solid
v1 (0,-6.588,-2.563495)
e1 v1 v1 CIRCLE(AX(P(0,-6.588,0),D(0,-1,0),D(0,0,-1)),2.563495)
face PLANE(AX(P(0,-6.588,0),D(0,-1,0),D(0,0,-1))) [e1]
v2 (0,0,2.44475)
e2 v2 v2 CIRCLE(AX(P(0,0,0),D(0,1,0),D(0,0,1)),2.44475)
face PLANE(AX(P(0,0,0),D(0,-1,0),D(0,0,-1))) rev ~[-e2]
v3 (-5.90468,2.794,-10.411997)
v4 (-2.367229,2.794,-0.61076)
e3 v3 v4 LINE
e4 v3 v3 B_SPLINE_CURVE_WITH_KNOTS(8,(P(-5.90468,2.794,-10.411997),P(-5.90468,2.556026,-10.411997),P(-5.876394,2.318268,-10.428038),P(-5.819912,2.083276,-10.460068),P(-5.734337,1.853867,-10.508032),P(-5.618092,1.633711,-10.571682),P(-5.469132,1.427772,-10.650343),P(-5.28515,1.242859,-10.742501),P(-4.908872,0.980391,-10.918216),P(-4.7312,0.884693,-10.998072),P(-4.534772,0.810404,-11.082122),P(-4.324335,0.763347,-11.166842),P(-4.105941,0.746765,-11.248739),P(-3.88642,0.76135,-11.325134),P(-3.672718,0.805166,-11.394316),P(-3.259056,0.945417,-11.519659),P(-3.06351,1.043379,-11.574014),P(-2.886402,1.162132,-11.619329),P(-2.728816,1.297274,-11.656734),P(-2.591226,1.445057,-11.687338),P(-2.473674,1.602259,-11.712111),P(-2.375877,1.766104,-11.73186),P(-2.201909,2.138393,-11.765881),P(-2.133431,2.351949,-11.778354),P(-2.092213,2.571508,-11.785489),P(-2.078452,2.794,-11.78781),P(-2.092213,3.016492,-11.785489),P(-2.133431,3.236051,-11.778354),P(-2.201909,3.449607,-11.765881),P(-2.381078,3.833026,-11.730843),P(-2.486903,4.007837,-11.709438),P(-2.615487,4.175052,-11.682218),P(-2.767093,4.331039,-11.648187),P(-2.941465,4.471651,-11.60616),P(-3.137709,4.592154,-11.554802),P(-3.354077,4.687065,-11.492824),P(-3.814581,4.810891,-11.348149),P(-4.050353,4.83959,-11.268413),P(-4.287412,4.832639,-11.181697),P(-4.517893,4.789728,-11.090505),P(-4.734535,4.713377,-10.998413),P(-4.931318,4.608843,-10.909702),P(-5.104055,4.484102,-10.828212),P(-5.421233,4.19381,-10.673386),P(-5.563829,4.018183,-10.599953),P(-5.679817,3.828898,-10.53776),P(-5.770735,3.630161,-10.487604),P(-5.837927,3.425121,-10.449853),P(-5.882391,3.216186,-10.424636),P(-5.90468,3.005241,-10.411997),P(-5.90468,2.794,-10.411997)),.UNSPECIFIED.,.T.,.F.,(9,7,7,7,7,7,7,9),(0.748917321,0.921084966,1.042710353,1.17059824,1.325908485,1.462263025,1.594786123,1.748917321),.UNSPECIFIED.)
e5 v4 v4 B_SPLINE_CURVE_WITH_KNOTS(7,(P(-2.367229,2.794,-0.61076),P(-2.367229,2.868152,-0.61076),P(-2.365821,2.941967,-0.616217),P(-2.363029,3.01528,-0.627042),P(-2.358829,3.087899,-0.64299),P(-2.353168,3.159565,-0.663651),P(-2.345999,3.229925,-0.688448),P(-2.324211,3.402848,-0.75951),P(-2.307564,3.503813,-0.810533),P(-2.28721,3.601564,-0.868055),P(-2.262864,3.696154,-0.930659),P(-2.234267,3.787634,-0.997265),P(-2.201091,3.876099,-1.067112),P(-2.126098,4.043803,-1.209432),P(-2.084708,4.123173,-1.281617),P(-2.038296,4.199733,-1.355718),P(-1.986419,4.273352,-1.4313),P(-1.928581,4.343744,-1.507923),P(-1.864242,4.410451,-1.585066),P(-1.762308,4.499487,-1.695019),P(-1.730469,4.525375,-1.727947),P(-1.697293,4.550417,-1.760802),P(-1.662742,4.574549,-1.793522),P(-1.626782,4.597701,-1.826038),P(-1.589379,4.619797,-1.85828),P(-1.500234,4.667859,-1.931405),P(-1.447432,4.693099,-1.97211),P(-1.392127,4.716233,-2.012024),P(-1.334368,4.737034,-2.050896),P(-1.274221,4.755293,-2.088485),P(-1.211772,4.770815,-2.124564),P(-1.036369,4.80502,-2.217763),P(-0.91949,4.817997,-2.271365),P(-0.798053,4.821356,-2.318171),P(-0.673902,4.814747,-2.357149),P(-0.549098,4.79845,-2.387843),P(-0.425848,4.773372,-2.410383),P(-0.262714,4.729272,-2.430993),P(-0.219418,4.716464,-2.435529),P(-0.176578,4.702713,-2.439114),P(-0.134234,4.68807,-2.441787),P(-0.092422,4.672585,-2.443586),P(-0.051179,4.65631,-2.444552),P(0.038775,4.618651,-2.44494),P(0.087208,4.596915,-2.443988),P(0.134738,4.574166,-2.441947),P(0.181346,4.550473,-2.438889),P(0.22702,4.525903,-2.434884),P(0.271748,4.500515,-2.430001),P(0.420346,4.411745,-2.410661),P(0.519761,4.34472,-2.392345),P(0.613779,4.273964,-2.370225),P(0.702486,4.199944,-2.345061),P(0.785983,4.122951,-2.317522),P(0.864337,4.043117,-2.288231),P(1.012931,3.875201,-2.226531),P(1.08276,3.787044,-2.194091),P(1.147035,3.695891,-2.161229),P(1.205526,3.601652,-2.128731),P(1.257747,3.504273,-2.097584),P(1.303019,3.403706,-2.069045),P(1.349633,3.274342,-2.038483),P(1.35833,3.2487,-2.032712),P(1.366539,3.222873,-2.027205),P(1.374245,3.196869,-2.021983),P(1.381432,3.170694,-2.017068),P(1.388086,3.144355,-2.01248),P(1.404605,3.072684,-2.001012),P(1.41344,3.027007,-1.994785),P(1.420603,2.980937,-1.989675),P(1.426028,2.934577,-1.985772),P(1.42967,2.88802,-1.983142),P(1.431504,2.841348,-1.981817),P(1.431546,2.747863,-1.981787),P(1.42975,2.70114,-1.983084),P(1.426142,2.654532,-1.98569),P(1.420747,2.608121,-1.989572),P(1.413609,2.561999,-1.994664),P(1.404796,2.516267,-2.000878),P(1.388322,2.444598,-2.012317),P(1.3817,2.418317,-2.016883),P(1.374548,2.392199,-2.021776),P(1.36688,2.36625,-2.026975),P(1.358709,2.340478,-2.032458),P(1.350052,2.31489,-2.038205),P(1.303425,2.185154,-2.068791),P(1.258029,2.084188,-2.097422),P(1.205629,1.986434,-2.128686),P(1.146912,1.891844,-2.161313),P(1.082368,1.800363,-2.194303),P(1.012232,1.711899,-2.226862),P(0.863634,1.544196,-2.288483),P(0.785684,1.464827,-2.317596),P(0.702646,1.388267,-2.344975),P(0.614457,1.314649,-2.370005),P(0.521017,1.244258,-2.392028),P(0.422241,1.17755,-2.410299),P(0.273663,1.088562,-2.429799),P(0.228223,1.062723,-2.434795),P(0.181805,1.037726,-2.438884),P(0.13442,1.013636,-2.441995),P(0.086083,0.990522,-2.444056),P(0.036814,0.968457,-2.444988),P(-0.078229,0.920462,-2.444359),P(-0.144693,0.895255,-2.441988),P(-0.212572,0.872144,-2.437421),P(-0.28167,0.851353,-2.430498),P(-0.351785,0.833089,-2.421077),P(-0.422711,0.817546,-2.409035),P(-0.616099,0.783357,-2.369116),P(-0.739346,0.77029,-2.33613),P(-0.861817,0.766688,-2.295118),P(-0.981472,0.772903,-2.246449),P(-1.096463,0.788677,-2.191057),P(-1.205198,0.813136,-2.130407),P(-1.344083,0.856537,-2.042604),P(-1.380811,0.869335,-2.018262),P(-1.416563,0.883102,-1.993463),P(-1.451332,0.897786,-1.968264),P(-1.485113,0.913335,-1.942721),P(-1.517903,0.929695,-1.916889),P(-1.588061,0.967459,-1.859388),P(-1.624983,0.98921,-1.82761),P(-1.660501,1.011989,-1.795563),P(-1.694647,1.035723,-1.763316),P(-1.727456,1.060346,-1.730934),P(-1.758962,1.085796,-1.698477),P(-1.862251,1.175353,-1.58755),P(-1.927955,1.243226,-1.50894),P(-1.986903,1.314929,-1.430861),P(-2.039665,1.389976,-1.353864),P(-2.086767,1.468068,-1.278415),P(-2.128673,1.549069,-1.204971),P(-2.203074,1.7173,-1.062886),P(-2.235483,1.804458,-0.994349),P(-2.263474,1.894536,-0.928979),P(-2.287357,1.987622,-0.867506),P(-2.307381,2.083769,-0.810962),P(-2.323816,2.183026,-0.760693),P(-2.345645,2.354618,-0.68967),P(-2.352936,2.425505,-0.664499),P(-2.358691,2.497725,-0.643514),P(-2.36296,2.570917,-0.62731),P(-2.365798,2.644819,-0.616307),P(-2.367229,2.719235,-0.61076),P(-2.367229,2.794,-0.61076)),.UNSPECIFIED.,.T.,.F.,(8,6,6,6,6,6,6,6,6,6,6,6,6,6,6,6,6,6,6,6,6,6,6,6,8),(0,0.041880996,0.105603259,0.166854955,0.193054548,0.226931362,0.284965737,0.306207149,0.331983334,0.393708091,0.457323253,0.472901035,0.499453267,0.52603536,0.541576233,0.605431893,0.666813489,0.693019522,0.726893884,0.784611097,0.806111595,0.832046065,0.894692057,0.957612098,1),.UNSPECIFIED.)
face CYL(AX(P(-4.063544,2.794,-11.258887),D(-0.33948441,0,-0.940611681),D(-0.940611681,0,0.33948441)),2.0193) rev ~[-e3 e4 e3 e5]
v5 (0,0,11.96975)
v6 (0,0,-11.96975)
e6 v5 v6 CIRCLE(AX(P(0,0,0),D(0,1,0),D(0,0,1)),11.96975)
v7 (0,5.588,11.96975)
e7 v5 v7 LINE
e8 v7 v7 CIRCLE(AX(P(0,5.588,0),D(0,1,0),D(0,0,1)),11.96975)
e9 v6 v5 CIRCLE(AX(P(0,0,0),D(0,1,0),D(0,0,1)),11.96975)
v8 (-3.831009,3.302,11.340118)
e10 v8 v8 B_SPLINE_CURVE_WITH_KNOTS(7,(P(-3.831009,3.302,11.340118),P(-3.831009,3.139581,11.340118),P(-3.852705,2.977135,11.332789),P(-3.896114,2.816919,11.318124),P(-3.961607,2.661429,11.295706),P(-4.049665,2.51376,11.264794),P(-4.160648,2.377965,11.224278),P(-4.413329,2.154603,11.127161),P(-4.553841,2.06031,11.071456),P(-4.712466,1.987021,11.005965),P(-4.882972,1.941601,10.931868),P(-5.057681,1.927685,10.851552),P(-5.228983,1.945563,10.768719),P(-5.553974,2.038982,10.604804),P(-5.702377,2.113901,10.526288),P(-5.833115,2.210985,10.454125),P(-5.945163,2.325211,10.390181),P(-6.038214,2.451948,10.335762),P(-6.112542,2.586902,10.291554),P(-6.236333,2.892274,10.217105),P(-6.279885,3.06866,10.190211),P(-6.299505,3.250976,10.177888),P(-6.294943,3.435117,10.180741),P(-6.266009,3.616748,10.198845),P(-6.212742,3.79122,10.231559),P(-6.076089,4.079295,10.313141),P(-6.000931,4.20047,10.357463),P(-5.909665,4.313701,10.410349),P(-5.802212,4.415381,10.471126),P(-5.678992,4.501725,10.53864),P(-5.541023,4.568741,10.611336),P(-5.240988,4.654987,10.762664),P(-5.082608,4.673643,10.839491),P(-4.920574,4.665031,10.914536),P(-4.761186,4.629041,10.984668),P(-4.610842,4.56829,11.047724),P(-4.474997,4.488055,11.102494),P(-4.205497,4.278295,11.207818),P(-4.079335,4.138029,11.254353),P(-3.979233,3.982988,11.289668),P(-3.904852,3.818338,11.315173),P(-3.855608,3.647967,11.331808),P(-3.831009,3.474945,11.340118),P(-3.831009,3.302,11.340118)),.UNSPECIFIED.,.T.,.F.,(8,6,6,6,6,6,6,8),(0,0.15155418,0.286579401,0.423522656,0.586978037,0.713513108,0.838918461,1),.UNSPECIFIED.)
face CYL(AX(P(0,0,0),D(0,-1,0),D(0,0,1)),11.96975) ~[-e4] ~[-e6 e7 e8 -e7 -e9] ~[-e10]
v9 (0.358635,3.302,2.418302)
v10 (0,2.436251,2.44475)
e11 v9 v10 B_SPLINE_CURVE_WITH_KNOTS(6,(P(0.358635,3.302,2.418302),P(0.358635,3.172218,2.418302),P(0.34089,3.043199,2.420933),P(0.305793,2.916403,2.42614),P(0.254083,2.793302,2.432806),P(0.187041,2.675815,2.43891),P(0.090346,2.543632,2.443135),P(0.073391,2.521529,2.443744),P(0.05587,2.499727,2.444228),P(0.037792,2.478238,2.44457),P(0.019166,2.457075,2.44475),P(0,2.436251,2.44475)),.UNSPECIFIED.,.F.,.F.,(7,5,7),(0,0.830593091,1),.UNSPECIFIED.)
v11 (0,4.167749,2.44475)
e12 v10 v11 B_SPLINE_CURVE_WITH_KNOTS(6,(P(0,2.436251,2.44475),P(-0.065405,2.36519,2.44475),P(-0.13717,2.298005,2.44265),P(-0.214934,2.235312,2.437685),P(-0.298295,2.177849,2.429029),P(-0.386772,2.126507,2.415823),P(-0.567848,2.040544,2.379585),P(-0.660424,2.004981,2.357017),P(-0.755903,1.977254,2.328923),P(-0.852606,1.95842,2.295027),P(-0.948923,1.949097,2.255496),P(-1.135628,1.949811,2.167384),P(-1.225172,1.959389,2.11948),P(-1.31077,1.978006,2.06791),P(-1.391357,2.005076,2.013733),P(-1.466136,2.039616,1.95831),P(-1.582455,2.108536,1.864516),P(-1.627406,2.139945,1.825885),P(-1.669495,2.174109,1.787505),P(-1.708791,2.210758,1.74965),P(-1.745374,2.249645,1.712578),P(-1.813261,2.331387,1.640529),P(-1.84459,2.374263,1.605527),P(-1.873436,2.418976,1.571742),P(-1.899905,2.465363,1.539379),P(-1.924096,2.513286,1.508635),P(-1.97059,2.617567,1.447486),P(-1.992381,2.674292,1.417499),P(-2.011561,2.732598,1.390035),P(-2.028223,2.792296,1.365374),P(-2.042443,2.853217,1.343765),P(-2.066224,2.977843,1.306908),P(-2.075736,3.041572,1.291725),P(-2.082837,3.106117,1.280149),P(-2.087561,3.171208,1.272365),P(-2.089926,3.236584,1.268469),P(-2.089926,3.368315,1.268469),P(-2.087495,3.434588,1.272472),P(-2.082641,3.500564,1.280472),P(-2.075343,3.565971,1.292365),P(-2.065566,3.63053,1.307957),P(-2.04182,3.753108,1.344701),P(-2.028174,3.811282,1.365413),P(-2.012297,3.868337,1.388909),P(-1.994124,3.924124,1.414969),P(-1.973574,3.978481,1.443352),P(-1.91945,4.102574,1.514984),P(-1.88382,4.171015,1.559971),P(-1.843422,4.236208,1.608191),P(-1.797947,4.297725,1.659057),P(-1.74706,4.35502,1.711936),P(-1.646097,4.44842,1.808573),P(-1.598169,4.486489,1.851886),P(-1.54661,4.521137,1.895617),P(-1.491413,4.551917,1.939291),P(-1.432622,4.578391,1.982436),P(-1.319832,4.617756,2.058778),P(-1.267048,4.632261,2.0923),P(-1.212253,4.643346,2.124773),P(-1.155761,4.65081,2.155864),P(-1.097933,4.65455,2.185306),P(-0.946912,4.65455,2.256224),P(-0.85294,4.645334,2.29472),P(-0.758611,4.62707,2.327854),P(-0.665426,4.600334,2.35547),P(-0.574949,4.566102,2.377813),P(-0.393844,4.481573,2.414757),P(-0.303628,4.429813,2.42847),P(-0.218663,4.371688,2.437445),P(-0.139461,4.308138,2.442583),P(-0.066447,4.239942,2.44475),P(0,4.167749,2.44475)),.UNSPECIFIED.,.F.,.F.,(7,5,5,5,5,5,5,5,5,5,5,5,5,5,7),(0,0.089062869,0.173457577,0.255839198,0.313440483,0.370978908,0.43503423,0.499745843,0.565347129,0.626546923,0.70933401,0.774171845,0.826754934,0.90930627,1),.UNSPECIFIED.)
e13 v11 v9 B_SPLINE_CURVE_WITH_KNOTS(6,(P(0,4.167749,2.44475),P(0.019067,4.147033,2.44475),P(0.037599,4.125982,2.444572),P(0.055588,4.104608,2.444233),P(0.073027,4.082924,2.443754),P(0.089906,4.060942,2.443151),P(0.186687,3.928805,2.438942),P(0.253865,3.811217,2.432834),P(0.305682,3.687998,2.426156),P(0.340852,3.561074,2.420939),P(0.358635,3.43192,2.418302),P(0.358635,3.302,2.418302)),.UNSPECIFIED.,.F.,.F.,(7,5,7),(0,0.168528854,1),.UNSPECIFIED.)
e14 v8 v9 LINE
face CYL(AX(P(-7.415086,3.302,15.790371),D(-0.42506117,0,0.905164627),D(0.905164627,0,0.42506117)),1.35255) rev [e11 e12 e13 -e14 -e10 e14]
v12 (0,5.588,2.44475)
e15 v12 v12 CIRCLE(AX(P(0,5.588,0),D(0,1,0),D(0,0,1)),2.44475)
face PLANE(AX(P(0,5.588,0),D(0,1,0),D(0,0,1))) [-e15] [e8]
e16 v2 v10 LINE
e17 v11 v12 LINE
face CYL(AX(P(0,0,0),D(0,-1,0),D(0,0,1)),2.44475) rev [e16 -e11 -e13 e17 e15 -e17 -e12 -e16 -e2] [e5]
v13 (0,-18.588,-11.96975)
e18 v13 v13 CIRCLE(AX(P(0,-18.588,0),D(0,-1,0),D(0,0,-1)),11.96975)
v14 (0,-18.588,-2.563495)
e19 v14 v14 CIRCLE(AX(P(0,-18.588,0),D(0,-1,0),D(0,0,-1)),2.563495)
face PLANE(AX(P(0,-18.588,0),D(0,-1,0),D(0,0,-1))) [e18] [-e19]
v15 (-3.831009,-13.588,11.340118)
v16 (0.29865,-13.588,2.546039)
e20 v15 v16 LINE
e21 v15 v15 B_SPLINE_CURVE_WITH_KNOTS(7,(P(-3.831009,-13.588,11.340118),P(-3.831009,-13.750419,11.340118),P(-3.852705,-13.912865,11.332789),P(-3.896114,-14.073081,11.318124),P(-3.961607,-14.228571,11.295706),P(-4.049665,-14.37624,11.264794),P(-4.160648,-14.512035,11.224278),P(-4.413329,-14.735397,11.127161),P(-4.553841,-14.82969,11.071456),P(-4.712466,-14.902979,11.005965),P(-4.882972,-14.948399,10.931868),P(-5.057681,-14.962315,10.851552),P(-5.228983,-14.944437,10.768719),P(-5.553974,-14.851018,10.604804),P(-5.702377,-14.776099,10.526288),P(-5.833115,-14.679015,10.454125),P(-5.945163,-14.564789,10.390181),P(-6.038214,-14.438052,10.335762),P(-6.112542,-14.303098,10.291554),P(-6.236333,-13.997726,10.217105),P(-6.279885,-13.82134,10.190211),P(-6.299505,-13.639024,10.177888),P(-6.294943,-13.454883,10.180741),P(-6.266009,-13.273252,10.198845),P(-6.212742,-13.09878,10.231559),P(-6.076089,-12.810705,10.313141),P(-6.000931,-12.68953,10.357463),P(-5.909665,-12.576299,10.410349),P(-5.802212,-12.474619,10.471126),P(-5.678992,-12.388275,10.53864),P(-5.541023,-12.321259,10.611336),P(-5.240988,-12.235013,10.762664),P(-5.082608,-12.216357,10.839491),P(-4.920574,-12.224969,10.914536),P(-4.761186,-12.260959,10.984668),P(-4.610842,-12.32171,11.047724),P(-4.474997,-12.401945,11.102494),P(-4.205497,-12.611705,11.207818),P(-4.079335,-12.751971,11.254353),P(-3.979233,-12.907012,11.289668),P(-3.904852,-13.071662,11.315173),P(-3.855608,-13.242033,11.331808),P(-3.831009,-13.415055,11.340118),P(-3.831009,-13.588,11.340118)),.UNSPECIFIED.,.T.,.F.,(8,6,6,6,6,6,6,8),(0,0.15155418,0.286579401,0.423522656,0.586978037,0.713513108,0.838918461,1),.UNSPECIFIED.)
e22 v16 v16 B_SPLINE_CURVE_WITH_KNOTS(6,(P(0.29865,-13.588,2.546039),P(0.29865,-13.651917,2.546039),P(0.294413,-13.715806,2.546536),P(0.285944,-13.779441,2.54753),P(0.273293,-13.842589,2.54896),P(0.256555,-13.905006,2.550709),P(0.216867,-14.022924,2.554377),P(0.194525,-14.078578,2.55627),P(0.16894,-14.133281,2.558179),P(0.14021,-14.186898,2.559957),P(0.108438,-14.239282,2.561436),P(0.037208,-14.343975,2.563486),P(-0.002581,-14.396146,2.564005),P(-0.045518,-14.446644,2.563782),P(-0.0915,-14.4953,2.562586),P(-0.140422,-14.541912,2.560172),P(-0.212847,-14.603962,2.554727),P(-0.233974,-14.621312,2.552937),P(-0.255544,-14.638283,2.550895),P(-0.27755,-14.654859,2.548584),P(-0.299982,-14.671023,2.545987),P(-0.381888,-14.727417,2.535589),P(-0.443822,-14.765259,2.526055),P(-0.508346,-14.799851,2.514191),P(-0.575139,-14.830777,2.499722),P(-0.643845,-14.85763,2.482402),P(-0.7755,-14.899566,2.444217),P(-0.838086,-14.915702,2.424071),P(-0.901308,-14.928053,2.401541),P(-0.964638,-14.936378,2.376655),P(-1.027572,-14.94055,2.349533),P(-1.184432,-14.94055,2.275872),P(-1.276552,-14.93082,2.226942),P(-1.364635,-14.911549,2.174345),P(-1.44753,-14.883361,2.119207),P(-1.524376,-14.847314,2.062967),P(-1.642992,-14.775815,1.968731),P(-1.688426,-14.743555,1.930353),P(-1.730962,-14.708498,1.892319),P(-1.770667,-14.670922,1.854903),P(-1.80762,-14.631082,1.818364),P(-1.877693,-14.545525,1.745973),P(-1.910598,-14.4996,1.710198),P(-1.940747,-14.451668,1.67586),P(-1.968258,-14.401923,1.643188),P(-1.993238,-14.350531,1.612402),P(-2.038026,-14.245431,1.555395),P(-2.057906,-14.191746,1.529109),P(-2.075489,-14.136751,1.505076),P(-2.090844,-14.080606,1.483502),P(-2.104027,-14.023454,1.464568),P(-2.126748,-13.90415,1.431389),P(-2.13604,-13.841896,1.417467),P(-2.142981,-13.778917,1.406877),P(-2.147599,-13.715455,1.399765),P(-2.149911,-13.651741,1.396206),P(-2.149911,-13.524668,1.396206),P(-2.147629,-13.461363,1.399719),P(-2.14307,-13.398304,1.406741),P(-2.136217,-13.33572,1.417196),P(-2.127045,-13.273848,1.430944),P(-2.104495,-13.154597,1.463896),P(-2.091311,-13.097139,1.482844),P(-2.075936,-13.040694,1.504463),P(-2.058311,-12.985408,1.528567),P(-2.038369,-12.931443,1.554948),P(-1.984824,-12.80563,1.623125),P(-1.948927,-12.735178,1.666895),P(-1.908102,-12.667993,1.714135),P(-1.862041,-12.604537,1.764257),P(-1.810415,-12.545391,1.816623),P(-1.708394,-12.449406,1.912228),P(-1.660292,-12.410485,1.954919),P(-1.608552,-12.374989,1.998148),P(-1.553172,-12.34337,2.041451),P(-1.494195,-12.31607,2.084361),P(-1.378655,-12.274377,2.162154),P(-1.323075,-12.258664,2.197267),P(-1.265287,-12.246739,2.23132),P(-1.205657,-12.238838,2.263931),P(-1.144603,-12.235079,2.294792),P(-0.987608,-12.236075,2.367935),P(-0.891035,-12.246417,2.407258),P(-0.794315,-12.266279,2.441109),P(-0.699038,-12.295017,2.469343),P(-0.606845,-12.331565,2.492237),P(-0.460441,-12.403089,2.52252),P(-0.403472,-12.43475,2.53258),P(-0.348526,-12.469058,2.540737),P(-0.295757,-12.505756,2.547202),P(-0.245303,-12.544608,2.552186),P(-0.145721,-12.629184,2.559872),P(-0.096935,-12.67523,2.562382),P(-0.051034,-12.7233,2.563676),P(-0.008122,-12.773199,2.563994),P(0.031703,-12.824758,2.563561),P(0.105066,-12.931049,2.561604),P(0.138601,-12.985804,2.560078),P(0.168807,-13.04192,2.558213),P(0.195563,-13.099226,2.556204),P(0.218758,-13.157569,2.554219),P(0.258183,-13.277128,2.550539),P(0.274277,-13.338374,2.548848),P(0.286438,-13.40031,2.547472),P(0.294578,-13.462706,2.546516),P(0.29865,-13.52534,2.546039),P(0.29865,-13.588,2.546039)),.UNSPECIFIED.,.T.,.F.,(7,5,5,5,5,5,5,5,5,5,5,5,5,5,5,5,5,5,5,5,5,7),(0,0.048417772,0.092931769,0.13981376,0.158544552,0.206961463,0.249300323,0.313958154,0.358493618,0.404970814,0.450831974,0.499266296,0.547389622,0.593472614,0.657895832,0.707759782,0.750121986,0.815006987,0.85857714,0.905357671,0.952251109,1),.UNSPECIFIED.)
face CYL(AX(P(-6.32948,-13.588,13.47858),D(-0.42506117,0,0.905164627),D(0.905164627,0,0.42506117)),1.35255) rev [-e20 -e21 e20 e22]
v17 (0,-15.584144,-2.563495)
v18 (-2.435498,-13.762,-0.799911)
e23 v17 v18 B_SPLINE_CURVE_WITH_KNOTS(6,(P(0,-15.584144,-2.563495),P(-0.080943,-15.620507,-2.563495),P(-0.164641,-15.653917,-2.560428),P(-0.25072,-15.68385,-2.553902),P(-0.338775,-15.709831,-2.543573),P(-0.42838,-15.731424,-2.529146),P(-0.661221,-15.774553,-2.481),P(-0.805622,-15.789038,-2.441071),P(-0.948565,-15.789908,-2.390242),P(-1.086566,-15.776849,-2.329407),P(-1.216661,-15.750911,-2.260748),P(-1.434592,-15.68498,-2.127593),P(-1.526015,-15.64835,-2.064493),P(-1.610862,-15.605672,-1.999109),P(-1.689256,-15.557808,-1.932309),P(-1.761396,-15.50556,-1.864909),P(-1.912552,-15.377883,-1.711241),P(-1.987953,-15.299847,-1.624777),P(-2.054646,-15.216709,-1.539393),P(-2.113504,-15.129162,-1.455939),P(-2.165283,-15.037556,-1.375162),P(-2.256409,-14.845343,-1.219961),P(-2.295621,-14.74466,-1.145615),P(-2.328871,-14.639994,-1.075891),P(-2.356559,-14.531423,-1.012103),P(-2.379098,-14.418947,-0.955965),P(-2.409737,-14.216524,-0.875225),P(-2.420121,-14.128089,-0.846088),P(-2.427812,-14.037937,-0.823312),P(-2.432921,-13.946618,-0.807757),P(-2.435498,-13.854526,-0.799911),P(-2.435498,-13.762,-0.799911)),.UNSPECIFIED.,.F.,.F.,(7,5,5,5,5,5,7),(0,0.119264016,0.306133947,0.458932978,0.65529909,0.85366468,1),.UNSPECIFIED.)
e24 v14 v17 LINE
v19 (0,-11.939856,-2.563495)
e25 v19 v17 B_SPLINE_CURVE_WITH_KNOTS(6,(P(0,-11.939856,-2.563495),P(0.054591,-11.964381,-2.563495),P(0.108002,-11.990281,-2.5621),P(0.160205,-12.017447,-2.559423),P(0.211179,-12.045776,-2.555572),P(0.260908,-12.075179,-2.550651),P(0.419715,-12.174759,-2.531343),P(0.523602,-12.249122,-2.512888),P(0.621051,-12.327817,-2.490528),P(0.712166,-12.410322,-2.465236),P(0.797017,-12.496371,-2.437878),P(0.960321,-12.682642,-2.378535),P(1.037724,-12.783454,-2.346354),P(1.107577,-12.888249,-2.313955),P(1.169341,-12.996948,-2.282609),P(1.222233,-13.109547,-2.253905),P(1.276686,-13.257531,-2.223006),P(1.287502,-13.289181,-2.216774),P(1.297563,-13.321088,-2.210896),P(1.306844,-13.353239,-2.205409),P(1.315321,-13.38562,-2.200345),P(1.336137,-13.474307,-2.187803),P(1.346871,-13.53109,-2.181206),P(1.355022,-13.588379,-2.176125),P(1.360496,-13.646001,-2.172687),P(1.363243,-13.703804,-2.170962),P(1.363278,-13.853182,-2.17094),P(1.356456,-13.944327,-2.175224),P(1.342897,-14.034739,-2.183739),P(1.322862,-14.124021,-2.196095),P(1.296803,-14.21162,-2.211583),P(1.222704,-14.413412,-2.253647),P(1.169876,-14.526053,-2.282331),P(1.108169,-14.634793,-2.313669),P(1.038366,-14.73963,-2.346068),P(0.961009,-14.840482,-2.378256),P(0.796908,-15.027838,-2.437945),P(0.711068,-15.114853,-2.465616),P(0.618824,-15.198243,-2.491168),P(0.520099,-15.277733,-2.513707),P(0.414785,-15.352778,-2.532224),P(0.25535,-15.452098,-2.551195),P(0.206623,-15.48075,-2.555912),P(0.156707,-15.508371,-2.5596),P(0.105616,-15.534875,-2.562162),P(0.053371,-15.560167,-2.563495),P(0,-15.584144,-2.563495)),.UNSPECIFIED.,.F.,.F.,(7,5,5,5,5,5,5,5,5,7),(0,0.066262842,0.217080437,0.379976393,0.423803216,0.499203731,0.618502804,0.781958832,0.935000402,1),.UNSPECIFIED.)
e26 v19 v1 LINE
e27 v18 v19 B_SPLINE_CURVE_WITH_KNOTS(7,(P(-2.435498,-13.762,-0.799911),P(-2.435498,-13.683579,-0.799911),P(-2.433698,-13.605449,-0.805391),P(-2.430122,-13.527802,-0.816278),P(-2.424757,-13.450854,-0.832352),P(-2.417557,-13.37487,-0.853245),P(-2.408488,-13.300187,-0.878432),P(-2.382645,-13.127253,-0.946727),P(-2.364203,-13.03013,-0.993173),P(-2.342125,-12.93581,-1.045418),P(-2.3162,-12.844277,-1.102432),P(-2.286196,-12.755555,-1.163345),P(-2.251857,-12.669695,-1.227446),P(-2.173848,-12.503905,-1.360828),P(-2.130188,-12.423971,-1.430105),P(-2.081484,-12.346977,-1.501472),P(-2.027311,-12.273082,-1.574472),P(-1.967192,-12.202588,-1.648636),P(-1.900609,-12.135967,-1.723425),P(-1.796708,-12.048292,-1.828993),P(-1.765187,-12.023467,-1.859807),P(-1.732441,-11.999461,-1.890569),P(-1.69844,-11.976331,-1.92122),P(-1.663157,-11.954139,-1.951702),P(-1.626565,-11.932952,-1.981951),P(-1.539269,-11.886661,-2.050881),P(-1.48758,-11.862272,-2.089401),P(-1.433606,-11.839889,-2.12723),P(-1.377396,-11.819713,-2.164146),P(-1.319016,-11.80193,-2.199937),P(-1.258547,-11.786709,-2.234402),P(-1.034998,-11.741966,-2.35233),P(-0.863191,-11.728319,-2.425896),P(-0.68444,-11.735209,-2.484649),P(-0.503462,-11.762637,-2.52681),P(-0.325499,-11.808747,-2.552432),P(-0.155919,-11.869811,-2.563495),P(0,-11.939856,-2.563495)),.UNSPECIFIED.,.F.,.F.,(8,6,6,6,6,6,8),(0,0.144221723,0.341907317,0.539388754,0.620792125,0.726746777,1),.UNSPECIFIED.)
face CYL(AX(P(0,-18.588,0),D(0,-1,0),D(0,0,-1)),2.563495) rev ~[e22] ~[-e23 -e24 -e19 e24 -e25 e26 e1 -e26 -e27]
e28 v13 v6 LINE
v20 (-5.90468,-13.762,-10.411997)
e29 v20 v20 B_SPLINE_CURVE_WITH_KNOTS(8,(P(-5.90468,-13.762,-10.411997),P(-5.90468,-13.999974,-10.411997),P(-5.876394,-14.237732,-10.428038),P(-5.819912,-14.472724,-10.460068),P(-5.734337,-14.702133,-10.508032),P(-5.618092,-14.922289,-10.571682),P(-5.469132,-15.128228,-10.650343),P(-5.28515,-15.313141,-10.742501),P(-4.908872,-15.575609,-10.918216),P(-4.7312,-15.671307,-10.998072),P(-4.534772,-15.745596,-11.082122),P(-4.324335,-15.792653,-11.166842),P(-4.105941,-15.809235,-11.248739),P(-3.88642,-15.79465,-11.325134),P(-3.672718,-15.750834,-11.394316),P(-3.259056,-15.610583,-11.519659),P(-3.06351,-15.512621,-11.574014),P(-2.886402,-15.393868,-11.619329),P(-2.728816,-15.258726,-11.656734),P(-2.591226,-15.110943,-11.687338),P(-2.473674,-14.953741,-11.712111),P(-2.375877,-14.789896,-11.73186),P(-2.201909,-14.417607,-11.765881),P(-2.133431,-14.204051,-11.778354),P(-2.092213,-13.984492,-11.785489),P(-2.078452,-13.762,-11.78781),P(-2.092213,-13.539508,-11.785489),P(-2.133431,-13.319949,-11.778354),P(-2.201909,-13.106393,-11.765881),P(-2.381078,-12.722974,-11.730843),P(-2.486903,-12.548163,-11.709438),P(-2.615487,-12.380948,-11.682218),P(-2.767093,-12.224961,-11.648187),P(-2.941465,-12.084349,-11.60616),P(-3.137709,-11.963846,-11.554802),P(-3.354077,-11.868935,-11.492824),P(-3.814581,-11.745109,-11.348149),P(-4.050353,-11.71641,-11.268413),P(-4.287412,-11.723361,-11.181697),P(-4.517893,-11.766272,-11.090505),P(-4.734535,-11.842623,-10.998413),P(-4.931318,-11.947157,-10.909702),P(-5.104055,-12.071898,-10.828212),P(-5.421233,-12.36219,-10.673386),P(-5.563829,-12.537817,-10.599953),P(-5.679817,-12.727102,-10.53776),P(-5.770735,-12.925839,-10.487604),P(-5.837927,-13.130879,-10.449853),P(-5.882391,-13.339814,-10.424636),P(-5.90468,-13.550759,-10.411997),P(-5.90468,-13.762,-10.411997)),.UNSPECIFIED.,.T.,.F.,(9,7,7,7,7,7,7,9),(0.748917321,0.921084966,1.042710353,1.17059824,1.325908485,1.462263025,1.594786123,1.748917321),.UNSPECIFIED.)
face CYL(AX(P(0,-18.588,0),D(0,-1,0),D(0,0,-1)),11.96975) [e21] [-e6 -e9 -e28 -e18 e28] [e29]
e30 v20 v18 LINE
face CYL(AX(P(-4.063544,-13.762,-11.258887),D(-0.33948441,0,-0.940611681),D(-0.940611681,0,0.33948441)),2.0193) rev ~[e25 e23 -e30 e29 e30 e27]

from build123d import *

# Parameters (mm, degrees)
SKETCH2_R               = 11.96975
SKETCH2_R_2             = 2.44475
BOSS_EXTRUDE1_DEPTH     = 5.588
CUT_EXTRUDE1_DEPTH      = 2.54
CUT_EXTRUDE1_DEPTH_BACK = 15
SKETCH3_R               = 1.35255
BOSS_EXTRUDE2_START     = 18.588
SKETCH4_R               = 11.96975
BOSS_EXTRUDE2_DEPTH     = 18.588
SKETCH5_R               = 2.563495
CUT_EXTRUDE3_DEPTH      = 12
CUT_EXTRUDE4_DEPTH      = 1.27
CUT_EXTRUDE4_DEPTH_BACK = 12.446
SKETCH6_R               = 1.35255
SKETCH10_R              = 2.0193
CUT_EXTRUDE6_DEPTH      = 11.43


with BuildPart() as part:
    # Sketch2 → Boss-Extrude1 (new body)
    with BuildSketch(Plane(origin=(0, 0, 0), x_dir=(1, 0, 0), z_dir=(0, 1, 0))):
        Circle(SKETCH2_R)
        Circle(SKETCH2_R_2, mode=Mode.SUBTRACT)
    extrude(amount=BOSS_EXTRUDE1_DEPTH)

    # Sketch3 → Cut-Extrude1 (cut, two sides: drawn at the far end of the back side and taken through both)
    with BuildSketch(Plane(origin=(-1.039168295, 0, 2.212901222), x_dir=(-0.9051646270437873, 0, -0.425061169655241), z_dir=(0.425061169655241, 0, -0.9051646270437873)).offset(-CUT_EXTRUDE1_DEPTH_BACK)):
        with Locations((0, 3.302)):
            Circle(SKETCH3_R)
    extrude(amount=CUT_EXTRUDE1_DEPTH + CUT_EXTRUDE1_DEPTH_BACK, mode=Mode.SUBTRACT)

    # Sketch4 → Boss-Extrude2 (add)
    with BuildSketch(Plane(origin=(0, 0, 0), x_dir=(-1, 0, 0), z_dir=(0, -1, 0)).offset(BOSS_EXTRUDE2_START)):
        Circle(SKETCH4_R)
    extrude(amount=-BOSS_EXTRUDE2_DEPTH)

    # Sketch5 → Cut-Extrude3 (cut)
    with BuildSketch(Plane(origin=(0, -18.588, 0), x_dir=(-1, 0, 0), z_dir=(0, -1, 0))):
        Circle(SKETCH5_R)
    extrude(amount=-CUT_EXTRUDE3_DEPTH, mode=Mode.SUBTRACT)

    # Sketch6 → Cut-Extrude4 (cut, two sides: drawn at the far end of the back side and taken through both)
    with BuildSketch(Plane(origin=(-1.039168295, 0, 2.212901222), x_dir=(-0.9051646270437873, 0, -0.425061169655241), z_dir=(0.425061169655241, 0, -0.9051646270437873)).offset(-CUT_EXTRUDE4_DEPTH_BACK)):
        with Locations((0, -13.588)):
            Circle(SKETCH6_R)
    extrude(amount=CUT_EXTRUDE4_DEPTH + CUT_EXTRUDE4_DEPTH_BACK, mode=Mode.SUBTRACT)

    # Sketch10 → Cut-Extrude6 (cut)
    with BuildSketch(Plane(origin=(-4.063543521, 0, -11.258886673), x_dir=(0, -1, 0), z_dir=(-0.3394844103905428, 0, -0.9406116813551624))):
        with Locations((13.762, 0)):
            Circle(SKETCH10_R)
        with Locations((-2.794, 0)):
            Circle(SKETCH10_R)
    extrude(amount=-CUT_EXTRUDE6_DEPTH, mode=Mode.SUBTRACT)


solid = part.part
